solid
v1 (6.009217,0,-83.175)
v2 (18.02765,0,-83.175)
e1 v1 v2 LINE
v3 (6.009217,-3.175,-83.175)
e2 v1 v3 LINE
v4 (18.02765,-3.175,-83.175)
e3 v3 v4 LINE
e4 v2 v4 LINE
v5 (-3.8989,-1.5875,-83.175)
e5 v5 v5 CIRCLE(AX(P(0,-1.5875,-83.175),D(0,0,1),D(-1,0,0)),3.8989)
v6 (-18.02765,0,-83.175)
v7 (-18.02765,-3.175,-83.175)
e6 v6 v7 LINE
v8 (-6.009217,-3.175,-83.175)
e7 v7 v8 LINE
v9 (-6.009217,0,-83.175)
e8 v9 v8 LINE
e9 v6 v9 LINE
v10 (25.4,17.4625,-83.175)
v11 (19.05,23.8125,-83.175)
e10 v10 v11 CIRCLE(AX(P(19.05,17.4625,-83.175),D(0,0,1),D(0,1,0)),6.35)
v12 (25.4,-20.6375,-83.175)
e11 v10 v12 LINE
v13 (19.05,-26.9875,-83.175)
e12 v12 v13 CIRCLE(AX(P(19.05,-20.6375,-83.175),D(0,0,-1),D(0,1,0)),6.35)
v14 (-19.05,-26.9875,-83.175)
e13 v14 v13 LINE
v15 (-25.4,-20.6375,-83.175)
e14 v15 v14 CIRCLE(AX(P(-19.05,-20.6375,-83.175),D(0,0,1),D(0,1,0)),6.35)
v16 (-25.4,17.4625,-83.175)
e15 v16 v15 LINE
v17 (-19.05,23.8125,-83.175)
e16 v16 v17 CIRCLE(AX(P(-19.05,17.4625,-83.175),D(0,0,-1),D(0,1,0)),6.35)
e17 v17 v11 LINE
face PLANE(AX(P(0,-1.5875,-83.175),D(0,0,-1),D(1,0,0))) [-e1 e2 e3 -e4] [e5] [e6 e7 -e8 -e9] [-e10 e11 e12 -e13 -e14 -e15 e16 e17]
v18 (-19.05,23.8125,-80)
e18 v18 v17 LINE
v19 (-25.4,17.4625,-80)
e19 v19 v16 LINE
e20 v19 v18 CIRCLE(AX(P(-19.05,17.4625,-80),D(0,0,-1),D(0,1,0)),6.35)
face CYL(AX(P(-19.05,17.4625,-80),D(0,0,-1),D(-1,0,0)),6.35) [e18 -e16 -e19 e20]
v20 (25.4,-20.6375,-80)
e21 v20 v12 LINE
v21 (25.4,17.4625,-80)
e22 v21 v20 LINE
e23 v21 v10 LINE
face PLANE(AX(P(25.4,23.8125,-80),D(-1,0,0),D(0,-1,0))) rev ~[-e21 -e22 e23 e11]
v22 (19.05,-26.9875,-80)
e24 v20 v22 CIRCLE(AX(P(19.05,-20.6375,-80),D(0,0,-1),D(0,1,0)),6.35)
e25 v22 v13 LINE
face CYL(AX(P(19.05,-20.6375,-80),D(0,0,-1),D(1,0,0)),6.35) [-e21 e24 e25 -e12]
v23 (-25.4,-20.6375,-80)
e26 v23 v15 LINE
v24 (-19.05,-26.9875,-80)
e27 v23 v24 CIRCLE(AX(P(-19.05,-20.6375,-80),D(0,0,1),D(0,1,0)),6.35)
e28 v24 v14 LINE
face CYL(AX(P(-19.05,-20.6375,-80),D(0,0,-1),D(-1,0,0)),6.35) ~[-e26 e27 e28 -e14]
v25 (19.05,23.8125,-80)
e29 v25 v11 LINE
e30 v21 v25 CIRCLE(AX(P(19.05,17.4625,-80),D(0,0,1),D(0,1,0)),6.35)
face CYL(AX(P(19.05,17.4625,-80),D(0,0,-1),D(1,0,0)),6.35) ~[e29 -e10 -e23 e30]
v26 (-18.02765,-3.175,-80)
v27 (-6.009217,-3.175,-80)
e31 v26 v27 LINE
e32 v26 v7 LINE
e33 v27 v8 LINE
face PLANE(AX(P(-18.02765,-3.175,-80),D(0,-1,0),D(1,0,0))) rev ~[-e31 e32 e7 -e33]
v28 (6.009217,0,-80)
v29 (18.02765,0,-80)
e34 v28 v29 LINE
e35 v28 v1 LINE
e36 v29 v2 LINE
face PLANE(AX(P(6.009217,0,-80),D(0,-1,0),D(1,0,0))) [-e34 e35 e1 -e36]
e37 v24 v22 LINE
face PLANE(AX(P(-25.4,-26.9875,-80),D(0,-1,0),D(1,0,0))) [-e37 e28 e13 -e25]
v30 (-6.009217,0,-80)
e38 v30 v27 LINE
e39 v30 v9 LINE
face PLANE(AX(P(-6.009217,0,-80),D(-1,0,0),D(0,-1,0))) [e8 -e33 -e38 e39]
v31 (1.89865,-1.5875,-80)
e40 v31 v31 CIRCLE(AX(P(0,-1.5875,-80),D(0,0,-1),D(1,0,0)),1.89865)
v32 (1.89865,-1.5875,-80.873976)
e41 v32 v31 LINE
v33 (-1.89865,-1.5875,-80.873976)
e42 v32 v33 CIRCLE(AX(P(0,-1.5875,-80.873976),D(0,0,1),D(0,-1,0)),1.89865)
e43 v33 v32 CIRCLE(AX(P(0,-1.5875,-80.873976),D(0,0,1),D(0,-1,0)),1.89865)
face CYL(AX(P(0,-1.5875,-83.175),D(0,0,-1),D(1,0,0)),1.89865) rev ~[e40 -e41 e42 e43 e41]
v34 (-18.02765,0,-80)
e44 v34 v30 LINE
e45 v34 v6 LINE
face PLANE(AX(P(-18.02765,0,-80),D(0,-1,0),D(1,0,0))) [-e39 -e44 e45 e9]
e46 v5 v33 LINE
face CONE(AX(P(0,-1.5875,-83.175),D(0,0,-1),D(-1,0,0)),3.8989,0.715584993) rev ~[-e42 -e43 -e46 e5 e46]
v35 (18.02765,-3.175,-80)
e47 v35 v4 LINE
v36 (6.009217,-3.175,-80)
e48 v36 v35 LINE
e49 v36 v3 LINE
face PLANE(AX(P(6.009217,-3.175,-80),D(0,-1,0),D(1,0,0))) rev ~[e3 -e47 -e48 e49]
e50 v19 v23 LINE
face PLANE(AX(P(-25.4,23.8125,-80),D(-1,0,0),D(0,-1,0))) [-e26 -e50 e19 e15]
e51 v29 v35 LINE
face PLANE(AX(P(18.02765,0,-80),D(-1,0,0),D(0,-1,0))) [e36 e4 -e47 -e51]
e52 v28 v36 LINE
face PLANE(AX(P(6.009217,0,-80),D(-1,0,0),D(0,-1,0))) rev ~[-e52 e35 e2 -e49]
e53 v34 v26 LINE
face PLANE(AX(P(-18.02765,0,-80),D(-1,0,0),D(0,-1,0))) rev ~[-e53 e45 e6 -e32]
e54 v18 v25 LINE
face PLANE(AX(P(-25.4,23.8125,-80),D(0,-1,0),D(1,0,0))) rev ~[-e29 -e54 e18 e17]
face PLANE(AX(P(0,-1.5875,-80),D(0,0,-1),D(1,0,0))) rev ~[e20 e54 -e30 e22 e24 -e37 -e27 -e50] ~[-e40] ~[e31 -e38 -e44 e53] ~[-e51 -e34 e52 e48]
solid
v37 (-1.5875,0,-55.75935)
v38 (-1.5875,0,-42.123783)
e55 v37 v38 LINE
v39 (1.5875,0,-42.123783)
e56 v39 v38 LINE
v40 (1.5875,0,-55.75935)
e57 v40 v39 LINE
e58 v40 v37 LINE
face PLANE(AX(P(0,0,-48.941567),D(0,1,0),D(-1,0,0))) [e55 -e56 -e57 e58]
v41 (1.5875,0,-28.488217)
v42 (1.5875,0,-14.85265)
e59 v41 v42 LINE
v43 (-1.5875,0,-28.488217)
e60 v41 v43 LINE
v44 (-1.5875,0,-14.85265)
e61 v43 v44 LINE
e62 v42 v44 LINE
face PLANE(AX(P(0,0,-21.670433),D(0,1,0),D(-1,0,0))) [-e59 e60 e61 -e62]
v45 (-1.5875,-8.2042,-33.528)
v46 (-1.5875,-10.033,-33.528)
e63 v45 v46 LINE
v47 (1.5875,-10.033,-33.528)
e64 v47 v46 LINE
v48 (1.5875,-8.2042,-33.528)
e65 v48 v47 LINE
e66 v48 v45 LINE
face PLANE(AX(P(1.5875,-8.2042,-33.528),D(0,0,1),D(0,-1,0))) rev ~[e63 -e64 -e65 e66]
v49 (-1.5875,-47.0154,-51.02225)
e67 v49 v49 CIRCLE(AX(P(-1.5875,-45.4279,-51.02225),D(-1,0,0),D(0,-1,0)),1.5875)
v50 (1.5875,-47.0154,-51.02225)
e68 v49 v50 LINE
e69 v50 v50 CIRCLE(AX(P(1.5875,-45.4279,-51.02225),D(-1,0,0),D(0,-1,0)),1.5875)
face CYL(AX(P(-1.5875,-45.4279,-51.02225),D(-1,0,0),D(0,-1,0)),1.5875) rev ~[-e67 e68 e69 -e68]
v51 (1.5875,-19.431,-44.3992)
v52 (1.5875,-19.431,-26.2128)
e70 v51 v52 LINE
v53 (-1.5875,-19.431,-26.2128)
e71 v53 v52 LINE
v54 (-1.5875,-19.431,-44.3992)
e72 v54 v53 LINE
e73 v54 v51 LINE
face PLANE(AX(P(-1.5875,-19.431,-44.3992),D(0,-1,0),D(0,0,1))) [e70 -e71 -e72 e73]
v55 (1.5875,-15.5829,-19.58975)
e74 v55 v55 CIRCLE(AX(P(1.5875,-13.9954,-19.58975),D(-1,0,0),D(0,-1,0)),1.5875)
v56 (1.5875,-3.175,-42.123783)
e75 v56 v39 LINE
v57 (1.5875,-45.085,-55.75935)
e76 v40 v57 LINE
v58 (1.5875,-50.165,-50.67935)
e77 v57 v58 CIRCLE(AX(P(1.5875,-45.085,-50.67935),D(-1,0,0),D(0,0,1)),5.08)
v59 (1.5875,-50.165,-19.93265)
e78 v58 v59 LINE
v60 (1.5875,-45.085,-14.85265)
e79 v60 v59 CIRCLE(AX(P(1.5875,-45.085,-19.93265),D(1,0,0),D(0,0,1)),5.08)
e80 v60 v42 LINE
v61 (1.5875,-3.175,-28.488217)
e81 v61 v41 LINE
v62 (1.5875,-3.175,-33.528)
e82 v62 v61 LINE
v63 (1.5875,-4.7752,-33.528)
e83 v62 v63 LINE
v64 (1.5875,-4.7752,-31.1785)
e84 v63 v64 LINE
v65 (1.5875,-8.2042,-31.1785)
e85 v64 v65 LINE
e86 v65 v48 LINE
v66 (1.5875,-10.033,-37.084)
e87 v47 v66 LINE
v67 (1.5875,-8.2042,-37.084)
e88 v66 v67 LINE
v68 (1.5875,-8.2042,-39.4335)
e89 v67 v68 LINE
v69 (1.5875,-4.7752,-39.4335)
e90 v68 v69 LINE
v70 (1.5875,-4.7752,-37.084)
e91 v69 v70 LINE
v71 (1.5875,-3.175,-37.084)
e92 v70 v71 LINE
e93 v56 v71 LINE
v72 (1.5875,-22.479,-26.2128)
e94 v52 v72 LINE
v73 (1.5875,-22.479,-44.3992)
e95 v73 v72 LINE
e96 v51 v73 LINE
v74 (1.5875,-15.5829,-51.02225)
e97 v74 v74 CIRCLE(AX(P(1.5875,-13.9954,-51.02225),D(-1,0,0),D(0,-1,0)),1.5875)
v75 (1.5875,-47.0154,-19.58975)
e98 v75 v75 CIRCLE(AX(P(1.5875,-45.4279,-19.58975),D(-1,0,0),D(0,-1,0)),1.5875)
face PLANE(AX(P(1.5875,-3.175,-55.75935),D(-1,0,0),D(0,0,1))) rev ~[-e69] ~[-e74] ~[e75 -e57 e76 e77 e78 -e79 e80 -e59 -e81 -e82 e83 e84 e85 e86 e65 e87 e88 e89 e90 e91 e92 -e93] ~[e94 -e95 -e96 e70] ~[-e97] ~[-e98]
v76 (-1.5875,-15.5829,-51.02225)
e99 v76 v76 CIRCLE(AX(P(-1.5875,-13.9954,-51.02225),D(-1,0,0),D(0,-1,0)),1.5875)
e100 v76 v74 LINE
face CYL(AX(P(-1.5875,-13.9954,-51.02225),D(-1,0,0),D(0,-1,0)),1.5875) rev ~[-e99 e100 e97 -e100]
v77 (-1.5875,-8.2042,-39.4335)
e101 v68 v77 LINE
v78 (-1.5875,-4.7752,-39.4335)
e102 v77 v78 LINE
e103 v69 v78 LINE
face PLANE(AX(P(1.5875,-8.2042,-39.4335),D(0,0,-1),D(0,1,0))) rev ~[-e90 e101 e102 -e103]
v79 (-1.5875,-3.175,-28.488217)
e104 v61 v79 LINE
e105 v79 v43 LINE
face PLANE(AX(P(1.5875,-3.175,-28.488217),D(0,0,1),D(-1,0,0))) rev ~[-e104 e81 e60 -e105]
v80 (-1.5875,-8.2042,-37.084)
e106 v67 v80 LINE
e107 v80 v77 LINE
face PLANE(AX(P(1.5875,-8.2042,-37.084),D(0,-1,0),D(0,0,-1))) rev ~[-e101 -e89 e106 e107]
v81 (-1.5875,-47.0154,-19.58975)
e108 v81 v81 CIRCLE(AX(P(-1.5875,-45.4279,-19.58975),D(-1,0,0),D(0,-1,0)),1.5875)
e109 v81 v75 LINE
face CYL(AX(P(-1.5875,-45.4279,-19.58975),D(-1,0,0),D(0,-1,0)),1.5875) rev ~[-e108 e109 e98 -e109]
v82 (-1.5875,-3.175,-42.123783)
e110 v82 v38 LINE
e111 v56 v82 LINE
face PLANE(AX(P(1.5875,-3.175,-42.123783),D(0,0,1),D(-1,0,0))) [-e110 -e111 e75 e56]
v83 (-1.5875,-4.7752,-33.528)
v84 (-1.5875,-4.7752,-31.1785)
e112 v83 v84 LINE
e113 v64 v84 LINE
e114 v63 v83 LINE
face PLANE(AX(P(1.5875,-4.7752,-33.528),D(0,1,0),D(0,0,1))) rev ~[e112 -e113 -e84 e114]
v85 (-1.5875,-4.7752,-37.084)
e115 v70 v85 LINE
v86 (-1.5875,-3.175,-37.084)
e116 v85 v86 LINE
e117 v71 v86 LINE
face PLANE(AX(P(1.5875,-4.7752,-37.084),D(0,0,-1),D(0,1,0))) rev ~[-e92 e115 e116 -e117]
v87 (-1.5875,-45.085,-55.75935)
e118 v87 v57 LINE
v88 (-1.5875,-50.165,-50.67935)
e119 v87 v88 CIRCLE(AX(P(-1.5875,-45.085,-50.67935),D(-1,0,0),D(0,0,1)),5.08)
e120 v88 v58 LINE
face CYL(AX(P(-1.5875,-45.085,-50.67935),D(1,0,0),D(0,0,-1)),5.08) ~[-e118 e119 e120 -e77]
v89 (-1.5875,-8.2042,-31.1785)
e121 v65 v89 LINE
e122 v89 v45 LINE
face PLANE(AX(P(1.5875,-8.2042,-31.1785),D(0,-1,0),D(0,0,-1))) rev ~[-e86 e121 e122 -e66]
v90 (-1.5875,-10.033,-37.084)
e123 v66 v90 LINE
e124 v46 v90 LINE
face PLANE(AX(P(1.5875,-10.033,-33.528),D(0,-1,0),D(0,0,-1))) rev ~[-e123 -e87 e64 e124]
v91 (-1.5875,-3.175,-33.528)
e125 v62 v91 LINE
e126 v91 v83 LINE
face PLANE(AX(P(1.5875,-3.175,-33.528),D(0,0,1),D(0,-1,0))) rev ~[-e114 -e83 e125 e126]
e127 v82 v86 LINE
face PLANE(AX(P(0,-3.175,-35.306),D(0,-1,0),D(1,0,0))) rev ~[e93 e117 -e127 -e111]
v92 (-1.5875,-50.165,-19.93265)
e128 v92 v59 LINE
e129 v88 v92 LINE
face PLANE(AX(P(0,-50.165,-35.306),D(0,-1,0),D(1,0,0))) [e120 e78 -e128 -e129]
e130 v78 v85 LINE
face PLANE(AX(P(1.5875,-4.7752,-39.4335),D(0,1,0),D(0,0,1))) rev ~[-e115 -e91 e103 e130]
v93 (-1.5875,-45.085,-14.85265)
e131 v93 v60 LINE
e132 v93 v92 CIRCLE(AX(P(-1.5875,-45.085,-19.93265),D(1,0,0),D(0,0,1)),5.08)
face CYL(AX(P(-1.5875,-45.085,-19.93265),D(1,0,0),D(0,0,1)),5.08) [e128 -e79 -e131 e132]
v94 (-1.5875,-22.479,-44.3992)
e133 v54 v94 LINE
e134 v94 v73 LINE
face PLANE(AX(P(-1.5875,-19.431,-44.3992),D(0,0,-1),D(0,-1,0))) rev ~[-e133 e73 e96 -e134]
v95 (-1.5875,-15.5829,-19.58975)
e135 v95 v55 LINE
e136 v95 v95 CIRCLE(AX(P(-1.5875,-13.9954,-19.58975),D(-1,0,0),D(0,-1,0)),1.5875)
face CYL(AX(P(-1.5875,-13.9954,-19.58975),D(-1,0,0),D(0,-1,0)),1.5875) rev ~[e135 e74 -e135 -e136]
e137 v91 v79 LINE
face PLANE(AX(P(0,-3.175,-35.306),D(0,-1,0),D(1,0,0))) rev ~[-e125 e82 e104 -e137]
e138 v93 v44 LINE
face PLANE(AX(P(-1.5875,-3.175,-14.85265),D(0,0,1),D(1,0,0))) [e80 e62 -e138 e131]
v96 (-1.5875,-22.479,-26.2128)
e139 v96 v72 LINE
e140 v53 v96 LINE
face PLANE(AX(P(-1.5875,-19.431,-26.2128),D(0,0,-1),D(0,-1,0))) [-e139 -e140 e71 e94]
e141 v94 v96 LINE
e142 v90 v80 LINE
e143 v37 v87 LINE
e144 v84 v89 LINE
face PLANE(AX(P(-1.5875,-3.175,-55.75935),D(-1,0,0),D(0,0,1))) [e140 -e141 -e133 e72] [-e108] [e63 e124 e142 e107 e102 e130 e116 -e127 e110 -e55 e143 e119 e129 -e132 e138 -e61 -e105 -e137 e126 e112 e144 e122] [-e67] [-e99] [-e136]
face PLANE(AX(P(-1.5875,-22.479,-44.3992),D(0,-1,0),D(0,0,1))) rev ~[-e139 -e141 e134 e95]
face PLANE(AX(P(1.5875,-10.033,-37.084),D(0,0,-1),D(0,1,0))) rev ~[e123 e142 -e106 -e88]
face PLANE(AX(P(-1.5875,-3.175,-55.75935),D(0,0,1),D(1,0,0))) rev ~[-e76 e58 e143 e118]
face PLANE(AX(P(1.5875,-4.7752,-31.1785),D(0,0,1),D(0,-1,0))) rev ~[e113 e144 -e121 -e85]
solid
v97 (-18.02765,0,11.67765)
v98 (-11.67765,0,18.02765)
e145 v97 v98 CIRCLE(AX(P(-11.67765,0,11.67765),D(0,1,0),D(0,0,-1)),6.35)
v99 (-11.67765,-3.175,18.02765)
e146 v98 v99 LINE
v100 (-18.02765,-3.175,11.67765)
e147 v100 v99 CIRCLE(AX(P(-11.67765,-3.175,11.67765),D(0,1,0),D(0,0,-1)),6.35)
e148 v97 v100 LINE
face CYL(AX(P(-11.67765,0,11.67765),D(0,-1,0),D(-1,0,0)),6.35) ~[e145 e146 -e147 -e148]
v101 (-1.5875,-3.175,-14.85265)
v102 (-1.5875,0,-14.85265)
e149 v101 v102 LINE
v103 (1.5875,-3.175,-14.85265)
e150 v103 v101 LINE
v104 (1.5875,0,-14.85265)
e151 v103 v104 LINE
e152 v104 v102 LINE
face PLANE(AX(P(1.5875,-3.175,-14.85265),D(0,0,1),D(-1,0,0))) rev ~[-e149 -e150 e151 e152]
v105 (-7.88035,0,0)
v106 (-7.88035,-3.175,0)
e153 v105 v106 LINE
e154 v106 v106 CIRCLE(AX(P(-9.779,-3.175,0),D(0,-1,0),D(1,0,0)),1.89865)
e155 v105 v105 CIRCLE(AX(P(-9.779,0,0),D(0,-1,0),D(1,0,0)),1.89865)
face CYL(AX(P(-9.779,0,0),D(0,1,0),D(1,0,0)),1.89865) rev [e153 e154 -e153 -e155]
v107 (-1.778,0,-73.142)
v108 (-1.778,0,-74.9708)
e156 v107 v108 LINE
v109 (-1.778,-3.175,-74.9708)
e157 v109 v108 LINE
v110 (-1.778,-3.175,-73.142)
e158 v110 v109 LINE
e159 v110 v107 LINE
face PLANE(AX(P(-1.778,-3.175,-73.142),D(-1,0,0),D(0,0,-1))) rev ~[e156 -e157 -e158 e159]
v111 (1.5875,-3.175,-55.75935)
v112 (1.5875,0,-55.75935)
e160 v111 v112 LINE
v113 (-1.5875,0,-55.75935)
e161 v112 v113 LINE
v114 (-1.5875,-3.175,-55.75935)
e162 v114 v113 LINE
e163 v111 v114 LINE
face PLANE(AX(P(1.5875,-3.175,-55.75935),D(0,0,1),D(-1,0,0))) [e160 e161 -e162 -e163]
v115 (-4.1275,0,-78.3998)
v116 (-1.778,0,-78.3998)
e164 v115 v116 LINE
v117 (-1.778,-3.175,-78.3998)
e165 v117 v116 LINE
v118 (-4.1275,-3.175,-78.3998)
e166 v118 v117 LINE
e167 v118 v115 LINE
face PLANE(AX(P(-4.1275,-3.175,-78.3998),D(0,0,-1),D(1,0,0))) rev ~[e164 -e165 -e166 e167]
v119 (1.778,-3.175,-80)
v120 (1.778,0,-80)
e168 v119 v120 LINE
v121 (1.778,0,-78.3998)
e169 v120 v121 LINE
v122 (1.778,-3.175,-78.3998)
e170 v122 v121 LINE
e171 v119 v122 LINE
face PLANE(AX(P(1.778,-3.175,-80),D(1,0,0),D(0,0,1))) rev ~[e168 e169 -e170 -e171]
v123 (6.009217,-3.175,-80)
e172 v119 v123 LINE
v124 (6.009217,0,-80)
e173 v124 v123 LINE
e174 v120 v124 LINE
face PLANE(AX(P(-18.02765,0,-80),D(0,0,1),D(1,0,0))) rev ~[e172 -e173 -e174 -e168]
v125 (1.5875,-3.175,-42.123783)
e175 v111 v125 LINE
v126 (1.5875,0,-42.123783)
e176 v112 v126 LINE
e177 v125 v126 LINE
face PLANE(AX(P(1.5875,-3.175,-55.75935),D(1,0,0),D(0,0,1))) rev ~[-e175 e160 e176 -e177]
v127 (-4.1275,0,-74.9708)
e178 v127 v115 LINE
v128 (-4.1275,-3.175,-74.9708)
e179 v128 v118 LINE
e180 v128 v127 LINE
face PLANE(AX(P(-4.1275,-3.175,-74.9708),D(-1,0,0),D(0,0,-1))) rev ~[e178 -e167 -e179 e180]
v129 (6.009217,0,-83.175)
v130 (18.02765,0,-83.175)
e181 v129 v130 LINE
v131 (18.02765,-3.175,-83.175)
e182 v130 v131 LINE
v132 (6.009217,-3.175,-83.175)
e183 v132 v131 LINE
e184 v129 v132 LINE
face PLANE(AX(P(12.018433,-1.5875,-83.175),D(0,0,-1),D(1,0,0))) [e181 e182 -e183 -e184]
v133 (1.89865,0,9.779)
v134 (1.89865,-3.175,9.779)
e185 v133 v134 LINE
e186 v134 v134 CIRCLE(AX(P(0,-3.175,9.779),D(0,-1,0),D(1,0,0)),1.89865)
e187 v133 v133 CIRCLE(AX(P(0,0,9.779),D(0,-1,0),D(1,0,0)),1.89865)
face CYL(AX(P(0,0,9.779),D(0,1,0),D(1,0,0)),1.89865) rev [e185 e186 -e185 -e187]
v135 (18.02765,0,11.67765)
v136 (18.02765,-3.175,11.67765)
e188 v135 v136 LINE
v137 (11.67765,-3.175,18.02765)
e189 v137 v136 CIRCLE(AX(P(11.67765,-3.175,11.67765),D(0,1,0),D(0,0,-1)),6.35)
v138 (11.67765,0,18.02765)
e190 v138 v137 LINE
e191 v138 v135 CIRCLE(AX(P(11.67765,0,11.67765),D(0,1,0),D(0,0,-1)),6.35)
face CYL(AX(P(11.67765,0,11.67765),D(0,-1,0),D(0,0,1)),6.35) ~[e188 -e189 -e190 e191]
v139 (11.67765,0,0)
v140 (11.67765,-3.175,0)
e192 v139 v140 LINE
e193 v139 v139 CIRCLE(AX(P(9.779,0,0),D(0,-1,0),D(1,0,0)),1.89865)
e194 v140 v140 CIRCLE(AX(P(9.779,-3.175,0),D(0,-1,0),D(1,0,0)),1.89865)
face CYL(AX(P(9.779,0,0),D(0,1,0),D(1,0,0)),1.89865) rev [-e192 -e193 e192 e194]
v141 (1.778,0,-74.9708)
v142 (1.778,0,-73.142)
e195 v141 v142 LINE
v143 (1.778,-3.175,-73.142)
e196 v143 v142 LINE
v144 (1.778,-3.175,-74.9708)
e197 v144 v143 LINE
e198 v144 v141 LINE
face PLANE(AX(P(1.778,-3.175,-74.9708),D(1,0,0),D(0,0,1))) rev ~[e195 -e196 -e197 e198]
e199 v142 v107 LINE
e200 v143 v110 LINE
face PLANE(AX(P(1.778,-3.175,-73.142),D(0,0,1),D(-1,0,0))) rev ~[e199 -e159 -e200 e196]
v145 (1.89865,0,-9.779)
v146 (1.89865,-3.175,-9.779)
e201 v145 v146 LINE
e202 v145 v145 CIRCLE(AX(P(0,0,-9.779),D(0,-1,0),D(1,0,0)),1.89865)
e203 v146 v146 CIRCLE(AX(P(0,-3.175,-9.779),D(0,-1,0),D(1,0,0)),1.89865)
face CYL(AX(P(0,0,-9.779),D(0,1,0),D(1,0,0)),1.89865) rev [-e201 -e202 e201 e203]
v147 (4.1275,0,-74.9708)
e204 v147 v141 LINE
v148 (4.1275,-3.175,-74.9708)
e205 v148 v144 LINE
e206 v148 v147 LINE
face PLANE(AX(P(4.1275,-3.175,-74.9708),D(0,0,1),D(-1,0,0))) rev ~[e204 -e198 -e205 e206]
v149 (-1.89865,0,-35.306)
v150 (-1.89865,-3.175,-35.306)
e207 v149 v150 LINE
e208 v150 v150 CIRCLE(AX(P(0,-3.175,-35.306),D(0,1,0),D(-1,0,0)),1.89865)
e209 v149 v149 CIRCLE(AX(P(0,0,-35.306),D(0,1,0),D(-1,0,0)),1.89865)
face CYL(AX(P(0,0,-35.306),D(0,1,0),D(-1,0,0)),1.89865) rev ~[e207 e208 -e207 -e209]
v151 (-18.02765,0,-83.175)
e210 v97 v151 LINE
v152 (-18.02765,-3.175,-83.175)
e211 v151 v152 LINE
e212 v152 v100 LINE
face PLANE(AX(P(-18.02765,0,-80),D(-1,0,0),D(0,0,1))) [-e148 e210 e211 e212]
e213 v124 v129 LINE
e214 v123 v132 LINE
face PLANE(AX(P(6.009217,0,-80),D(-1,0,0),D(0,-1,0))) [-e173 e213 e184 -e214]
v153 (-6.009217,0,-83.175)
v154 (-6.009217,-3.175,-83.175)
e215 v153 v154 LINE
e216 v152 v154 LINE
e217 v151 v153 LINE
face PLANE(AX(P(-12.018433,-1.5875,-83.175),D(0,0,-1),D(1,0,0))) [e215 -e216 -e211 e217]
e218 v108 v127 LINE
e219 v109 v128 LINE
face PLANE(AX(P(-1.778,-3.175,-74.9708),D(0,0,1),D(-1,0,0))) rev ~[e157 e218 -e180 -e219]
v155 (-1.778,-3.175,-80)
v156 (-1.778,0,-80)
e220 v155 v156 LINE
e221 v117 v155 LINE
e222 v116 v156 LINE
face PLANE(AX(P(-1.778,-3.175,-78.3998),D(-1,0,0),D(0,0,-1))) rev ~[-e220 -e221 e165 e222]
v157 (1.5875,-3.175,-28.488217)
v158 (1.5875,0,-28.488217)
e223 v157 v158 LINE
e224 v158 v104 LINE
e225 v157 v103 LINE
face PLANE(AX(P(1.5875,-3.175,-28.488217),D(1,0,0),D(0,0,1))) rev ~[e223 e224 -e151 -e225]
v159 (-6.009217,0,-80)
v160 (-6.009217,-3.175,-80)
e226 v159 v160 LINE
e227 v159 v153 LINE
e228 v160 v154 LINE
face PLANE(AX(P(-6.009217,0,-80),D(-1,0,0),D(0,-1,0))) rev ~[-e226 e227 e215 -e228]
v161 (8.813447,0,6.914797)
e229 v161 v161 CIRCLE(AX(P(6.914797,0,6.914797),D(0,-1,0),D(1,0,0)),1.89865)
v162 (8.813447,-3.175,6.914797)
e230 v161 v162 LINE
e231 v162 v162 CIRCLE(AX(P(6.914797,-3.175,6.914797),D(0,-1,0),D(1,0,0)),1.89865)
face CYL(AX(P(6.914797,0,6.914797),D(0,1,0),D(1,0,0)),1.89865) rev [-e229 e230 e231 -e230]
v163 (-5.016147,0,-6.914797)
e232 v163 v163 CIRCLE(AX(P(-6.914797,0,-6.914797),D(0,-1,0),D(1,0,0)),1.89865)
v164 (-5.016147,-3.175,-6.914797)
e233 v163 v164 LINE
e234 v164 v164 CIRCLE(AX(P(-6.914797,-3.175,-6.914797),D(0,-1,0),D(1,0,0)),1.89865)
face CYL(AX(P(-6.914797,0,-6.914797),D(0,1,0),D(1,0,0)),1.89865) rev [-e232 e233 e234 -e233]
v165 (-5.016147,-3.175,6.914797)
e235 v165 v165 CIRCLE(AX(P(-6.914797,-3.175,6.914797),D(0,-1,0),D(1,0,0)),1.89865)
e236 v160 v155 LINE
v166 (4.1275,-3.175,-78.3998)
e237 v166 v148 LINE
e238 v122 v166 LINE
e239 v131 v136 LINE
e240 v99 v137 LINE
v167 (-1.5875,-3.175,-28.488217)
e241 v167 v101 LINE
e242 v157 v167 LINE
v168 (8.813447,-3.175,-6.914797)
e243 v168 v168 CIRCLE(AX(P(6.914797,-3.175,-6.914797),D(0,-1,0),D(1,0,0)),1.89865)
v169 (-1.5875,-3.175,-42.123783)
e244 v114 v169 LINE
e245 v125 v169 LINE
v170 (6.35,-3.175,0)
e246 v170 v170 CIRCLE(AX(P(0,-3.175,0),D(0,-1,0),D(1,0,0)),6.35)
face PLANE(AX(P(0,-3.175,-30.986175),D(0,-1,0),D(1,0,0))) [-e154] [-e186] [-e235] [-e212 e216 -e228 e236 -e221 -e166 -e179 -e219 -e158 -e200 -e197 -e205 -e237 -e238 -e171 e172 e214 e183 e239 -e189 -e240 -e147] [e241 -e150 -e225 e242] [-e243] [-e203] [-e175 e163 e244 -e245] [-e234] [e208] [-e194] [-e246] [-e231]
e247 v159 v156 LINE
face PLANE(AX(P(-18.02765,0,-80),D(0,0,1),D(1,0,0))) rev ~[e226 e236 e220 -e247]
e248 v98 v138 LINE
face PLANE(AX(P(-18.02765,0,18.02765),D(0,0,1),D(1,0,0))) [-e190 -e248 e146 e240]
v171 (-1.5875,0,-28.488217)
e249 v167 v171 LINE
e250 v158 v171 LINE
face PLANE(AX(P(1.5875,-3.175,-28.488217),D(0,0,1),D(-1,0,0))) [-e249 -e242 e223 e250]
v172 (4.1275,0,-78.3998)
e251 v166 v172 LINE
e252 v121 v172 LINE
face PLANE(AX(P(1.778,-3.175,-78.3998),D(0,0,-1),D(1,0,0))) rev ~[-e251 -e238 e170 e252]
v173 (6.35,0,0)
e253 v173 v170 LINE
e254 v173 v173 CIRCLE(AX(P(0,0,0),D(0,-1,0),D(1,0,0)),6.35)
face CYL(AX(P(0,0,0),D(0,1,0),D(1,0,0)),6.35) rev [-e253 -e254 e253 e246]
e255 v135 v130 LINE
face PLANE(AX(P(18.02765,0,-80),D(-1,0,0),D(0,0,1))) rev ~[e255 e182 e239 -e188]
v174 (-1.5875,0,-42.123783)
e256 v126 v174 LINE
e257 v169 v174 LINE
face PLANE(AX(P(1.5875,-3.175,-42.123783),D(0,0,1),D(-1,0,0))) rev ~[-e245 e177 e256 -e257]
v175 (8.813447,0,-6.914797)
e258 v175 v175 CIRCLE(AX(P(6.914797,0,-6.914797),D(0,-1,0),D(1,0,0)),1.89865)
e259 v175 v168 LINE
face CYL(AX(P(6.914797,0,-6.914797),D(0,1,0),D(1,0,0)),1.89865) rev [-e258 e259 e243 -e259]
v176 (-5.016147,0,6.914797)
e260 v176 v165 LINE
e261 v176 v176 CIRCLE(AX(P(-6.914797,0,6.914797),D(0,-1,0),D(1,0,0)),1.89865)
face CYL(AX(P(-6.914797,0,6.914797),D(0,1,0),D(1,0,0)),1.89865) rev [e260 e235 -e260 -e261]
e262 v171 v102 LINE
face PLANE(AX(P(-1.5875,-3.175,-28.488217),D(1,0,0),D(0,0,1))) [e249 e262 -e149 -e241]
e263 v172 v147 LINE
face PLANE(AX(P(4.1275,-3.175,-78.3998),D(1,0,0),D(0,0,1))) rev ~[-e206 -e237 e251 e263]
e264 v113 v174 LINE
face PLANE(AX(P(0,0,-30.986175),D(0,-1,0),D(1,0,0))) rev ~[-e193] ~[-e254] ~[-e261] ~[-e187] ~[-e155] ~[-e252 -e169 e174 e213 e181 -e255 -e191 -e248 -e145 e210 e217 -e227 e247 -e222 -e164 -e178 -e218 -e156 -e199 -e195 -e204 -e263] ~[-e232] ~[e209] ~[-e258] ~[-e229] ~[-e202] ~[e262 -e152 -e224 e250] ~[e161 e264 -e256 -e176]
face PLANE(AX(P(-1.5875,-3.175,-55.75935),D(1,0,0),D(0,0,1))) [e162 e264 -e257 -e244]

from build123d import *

# Parameters (mm, degrees)
F0_W            = 36.0553
F0_H            = 98.02765
F0_R            = 1.89865
F0_R_2          = 6.35
F1_DEPTH        = 3.175
F2_W            = 50.8
F2_H            = 50.8
F3_DEPTH        = 3.175
F4_W            = 12.0184333333
F4_H            = 3.175
F5_DEPTH        = 3.175
F8_R            = 1.89865
F9_DEPTH        = 3.175
F11_DEPTH       = 3.175
F12_D           = 3.7973
F12_CSINK_D     = 7.7978
F12_CSINK_ANGLE = 82
F13_R           = 6.35
F13_2_R         = 6.35
F14_W           = 3.175
F14_H           = 40.9067
F15_DEPTH       = 46.99
F16_R           = 1.5875
F16_W           = 3.048
F16_H           = 18.1864
F17_DEPTH       = 3.175
F18_W           = 3.175
F18_H           = 13.6355666667
F19_DEPTH       = 3.175
F22_R           = 1.89865
F23_DEPTH       = 3.175
F25_DEPTH       = 3.175
F26_R           = 5.08


with BuildPart() as f1:
    # F0 (on Front) → F1 (new body)
    with BuildSketch(Plane.XZ):
        with Locations((0, -30.986175)):
            Rectangle(F0_W, F0_H)
        with Locations((-6.9147972132, -6.9147972132)):
            Circle(F0_R, mode=Mode.SUBTRACT)
        with Locations((0, -9.779)):
            Circle(F0_R, mode=Mode.SUBTRACT)
        with Locations((-9.779, 0)):
            Circle(F0_R, mode=Mode.SUBTRACT)
        Circle(F0_R_2, mode=Mode.SUBTRACT)
        with Locations((-6.9147972132, 6.9147972132)):
            Circle(F0_R, mode=Mode.SUBTRACT)
        with Locations((0, 9.779)):
            Circle(F0_R, mode=Mode.SUBTRACT)
        with Locations((6.9147972132, -6.9147972132)):
            Circle(F0_R, mode=Mode.SUBTRACT)
        with Locations((6.9147972132, 6.9147972132)):
            Circle(F0_R, mode=Mode.SUBTRACT)
        with Locations((9.779, 0)):
            Circle(F0_R, mode=Mode.SUBTRACT)
    extrude(amount=F1_DEPTH)


with BuildPart() as f3:
    # F2 (on face) → F3 (new body)
    with BuildSketch(Plane(origin=(0, 0, -80), x_dir=(1, 0, 0), z_dir=(0, 0, -1))):
        with Locations((0, 1.5875)):
            Rectangle(F2_W, F2_H)
    extrude(amount=F3_DEPTH)


with BuildPart() as f5:
    # F4 (on face) → F5 (new body)
    with BuildSketch(Plane(origin=(0, 0, -80), x_dir=(1, 0, 0), z_dir=(0, 0, -1))):
        with Locations((-12.0184333333, 1.5875)):
            Rectangle(F4_W, F4_H)
    extrude(amount=F5_DEPTH)


with BuildPart() as f5b:
    # F4 (on face) → F5, piece 2 (new body)
    with BuildSketch(Plane(origin=(0, 0, -80), x_dir=(1, 0, 0), z_dir=(0, 0, -1))):
        with Locations((12.0184333333, 1.5875)):
            Rectangle(F4_W, F4_H)
    extrude(amount=F5_DEPTH)


with BuildPart() as f3_1:
    add(f3.part)

    # F6: cut F5b, F5
    add(f5b.part, mode=Mode.SUBTRACT)
    add(f5.part, mode=Mode.SUBTRACT)

    # F8 (on face) → F9 (cut, through all)
    with BuildSketch(Plane(origin=(0, 0, -83.175), x_dir=(1, 0, 0), z_dir=(0, 0, -1))):
        with Locations((0, 1.5875)):
            Circle(F8_R)
    extrude(amount=-F9_DEPTH, mode=Mode.SUBTRACT)

    # F12 (through all)
    with Locations(Plane(origin=(0, 0, -83.175), x_dir=(1, 0, 0), z_dir=(0, 0, -1))):
        with Locations((0, 1.5875)):
            CounterSinkHole(F12_D / 2, F12_CSINK_D / 2, counter_sink_angle=F12_CSINK_ANGLE)

    # F13
    f13_edges = [f3_1.edges().sort_by_distance(p)[0] for p in [
        (-25.4, -26.9875, -81.5875),
        (-25.4, 23.8125, -81.5875),
        (25.4, 23.8125, -81.5875),
        (25.4, -26.9875, -81.5875),
    ]]
    fillet(f13_edges, radius=F13_R)


with BuildPart() as f5_1:
    add(f5.part)

    # F7: union F5b, F1
    add(f5b.part)
    add(f1.part)

    # F10 (on face) → F11 (cut, through all)
    with BuildSketch(Plane.XZ.offset(3.175)):
        Polygon((1.778, -73.142), (0, -73.142), (-1.778, -73.142), (-1.778, -74.9708), (-4.1275, -74.9708), (-4.1275, -78.3998), (-1.778, -78.3998), (-1.778, -80), (0, -80), (1.778, -80), (1.778, -78.3998), (4.1275, -78.3998), (4.1275, -74.9708), (1.778, -74.9708), align=None)
    extrude(amount=-F11_DEPTH, mode=Mode.SUBTRACT)

    # F13#2
    f13_2_edges = [f5_1.edges().sort_by_distance(p)[0] for p in [
        (18.02765, -1.5875, 18.02765),
        (-18.02765, -1.5875, 18.02765),
    ]]
    fillet(f13_2_edges, radius=F13_2_R)


with BuildPart() as f15:
    # F14 (on face) → F15 (new body)
    with BuildSketch(Plane.XZ.offset(3.175)):
        with Locations((0, -35.306)):
            Rectangle(F14_W, F14_H)
    extrude(amount=F15_DEPTH)

    # F16 (on face) → F17 (cut, through all)
    with BuildSketch(Plane(origin=(-1.5875, 0, 0), x_dir=(0, -1, 0), z_dir=(-1, 0, 0))):
        with Locations((13.9954, -19.58975)):
            Circle(F16_R)
        with Locations((13.9954, -51.02225)):
            Circle(F16_R)
        with Locations((45.4279, -51.02225)):
            Circle(F16_R)
        with Locations((45.4279, -19.58975)):
            Circle(F16_R)
        with Locations((20.955, -35.306)):
            Rectangle(F16_W, F16_H)
    extrude(amount=-F17_DEPTH, mode=Mode.SUBTRACT)


with BuildPart() as f19:
    # F18 (on face) → F19 (new body)
    with BuildSketch(Plane(origin=(0, -3.175, 0), x_dir=(-1, 0, 0), z_dir=(0, 1, 0))):
        with Locations((0, -21.6704333333)):
            Rectangle(F18_W, F18_H)
    extrude(amount=F19_DEPTH)


with BuildPart() as f19b:
    # F18 (on face) → F19, piece 2 (new body)
    with BuildSketch(Plane(origin=(0, -3.175, 0), x_dir=(-1, 0, 0), z_dir=(0, 1, 0))):
        with Locations((0, -48.9415666667)):
            Rectangle(F18_W, F18_H)
    extrude(amount=F19_DEPTH)


with BuildPart() as f5_2:
    add(f5_1.part)

    # F20: cut F19b, F19
    add(f19b.part, mode=Mode.SUBTRACT)
    add(f19.part, mode=Mode.SUBTRACT)

    # F22 (on face) → F23 (cut, through all)
    with BuildSketch(Plane(origin=(0, 0, 0), x_dir=(-1, 0, 0), z_dir=(0, 1, 0))):
        with Locations((0, -35.306)):
            Circle(F22_R)
    extrude(amount=-F23_DEPTH, mode=Mode.SUBTRACT)


with BuildPart() as f19b_1:
    add(f19b.part)

    # F21: union F19, F15
    add(f19.part)
    add(f15.part)

    # F24 (on face) → F25 (cut, through all)
    with BuildSketch(Plane.YZ.offset(1.5875)):
        Polygon((-10.033, -33.528), (-10.033, -35.306), (-10.033, -37.084), (-8.2042, -37.084), (-8.2042, -39.4335), (-4.7752, -39.4335), (-4.7752, -37.084), (-3.175, -37.084), (-3.175, -35.306), (-3.175, -33.528), (-4.7752, -33.528), (-4.7752, -31.1785), (-8.2042, -31.1785), (-8.2042, -33.528), align=None)
    extrude(amount=-F25_DEPTH, mode=Mode.SUBTRACT)

    # F26
    f26_edges = [f19b_1.edges().sort_by_distance(p)[0] for p in [
        (0, -50.165, -55.75935),
        (0, -50.165, -14.85265),
    ]]
    fillet(f26_edges, radius=F26_R)


solid = Compound([f3_1.part, f5_2.part, f19b_1.part])
